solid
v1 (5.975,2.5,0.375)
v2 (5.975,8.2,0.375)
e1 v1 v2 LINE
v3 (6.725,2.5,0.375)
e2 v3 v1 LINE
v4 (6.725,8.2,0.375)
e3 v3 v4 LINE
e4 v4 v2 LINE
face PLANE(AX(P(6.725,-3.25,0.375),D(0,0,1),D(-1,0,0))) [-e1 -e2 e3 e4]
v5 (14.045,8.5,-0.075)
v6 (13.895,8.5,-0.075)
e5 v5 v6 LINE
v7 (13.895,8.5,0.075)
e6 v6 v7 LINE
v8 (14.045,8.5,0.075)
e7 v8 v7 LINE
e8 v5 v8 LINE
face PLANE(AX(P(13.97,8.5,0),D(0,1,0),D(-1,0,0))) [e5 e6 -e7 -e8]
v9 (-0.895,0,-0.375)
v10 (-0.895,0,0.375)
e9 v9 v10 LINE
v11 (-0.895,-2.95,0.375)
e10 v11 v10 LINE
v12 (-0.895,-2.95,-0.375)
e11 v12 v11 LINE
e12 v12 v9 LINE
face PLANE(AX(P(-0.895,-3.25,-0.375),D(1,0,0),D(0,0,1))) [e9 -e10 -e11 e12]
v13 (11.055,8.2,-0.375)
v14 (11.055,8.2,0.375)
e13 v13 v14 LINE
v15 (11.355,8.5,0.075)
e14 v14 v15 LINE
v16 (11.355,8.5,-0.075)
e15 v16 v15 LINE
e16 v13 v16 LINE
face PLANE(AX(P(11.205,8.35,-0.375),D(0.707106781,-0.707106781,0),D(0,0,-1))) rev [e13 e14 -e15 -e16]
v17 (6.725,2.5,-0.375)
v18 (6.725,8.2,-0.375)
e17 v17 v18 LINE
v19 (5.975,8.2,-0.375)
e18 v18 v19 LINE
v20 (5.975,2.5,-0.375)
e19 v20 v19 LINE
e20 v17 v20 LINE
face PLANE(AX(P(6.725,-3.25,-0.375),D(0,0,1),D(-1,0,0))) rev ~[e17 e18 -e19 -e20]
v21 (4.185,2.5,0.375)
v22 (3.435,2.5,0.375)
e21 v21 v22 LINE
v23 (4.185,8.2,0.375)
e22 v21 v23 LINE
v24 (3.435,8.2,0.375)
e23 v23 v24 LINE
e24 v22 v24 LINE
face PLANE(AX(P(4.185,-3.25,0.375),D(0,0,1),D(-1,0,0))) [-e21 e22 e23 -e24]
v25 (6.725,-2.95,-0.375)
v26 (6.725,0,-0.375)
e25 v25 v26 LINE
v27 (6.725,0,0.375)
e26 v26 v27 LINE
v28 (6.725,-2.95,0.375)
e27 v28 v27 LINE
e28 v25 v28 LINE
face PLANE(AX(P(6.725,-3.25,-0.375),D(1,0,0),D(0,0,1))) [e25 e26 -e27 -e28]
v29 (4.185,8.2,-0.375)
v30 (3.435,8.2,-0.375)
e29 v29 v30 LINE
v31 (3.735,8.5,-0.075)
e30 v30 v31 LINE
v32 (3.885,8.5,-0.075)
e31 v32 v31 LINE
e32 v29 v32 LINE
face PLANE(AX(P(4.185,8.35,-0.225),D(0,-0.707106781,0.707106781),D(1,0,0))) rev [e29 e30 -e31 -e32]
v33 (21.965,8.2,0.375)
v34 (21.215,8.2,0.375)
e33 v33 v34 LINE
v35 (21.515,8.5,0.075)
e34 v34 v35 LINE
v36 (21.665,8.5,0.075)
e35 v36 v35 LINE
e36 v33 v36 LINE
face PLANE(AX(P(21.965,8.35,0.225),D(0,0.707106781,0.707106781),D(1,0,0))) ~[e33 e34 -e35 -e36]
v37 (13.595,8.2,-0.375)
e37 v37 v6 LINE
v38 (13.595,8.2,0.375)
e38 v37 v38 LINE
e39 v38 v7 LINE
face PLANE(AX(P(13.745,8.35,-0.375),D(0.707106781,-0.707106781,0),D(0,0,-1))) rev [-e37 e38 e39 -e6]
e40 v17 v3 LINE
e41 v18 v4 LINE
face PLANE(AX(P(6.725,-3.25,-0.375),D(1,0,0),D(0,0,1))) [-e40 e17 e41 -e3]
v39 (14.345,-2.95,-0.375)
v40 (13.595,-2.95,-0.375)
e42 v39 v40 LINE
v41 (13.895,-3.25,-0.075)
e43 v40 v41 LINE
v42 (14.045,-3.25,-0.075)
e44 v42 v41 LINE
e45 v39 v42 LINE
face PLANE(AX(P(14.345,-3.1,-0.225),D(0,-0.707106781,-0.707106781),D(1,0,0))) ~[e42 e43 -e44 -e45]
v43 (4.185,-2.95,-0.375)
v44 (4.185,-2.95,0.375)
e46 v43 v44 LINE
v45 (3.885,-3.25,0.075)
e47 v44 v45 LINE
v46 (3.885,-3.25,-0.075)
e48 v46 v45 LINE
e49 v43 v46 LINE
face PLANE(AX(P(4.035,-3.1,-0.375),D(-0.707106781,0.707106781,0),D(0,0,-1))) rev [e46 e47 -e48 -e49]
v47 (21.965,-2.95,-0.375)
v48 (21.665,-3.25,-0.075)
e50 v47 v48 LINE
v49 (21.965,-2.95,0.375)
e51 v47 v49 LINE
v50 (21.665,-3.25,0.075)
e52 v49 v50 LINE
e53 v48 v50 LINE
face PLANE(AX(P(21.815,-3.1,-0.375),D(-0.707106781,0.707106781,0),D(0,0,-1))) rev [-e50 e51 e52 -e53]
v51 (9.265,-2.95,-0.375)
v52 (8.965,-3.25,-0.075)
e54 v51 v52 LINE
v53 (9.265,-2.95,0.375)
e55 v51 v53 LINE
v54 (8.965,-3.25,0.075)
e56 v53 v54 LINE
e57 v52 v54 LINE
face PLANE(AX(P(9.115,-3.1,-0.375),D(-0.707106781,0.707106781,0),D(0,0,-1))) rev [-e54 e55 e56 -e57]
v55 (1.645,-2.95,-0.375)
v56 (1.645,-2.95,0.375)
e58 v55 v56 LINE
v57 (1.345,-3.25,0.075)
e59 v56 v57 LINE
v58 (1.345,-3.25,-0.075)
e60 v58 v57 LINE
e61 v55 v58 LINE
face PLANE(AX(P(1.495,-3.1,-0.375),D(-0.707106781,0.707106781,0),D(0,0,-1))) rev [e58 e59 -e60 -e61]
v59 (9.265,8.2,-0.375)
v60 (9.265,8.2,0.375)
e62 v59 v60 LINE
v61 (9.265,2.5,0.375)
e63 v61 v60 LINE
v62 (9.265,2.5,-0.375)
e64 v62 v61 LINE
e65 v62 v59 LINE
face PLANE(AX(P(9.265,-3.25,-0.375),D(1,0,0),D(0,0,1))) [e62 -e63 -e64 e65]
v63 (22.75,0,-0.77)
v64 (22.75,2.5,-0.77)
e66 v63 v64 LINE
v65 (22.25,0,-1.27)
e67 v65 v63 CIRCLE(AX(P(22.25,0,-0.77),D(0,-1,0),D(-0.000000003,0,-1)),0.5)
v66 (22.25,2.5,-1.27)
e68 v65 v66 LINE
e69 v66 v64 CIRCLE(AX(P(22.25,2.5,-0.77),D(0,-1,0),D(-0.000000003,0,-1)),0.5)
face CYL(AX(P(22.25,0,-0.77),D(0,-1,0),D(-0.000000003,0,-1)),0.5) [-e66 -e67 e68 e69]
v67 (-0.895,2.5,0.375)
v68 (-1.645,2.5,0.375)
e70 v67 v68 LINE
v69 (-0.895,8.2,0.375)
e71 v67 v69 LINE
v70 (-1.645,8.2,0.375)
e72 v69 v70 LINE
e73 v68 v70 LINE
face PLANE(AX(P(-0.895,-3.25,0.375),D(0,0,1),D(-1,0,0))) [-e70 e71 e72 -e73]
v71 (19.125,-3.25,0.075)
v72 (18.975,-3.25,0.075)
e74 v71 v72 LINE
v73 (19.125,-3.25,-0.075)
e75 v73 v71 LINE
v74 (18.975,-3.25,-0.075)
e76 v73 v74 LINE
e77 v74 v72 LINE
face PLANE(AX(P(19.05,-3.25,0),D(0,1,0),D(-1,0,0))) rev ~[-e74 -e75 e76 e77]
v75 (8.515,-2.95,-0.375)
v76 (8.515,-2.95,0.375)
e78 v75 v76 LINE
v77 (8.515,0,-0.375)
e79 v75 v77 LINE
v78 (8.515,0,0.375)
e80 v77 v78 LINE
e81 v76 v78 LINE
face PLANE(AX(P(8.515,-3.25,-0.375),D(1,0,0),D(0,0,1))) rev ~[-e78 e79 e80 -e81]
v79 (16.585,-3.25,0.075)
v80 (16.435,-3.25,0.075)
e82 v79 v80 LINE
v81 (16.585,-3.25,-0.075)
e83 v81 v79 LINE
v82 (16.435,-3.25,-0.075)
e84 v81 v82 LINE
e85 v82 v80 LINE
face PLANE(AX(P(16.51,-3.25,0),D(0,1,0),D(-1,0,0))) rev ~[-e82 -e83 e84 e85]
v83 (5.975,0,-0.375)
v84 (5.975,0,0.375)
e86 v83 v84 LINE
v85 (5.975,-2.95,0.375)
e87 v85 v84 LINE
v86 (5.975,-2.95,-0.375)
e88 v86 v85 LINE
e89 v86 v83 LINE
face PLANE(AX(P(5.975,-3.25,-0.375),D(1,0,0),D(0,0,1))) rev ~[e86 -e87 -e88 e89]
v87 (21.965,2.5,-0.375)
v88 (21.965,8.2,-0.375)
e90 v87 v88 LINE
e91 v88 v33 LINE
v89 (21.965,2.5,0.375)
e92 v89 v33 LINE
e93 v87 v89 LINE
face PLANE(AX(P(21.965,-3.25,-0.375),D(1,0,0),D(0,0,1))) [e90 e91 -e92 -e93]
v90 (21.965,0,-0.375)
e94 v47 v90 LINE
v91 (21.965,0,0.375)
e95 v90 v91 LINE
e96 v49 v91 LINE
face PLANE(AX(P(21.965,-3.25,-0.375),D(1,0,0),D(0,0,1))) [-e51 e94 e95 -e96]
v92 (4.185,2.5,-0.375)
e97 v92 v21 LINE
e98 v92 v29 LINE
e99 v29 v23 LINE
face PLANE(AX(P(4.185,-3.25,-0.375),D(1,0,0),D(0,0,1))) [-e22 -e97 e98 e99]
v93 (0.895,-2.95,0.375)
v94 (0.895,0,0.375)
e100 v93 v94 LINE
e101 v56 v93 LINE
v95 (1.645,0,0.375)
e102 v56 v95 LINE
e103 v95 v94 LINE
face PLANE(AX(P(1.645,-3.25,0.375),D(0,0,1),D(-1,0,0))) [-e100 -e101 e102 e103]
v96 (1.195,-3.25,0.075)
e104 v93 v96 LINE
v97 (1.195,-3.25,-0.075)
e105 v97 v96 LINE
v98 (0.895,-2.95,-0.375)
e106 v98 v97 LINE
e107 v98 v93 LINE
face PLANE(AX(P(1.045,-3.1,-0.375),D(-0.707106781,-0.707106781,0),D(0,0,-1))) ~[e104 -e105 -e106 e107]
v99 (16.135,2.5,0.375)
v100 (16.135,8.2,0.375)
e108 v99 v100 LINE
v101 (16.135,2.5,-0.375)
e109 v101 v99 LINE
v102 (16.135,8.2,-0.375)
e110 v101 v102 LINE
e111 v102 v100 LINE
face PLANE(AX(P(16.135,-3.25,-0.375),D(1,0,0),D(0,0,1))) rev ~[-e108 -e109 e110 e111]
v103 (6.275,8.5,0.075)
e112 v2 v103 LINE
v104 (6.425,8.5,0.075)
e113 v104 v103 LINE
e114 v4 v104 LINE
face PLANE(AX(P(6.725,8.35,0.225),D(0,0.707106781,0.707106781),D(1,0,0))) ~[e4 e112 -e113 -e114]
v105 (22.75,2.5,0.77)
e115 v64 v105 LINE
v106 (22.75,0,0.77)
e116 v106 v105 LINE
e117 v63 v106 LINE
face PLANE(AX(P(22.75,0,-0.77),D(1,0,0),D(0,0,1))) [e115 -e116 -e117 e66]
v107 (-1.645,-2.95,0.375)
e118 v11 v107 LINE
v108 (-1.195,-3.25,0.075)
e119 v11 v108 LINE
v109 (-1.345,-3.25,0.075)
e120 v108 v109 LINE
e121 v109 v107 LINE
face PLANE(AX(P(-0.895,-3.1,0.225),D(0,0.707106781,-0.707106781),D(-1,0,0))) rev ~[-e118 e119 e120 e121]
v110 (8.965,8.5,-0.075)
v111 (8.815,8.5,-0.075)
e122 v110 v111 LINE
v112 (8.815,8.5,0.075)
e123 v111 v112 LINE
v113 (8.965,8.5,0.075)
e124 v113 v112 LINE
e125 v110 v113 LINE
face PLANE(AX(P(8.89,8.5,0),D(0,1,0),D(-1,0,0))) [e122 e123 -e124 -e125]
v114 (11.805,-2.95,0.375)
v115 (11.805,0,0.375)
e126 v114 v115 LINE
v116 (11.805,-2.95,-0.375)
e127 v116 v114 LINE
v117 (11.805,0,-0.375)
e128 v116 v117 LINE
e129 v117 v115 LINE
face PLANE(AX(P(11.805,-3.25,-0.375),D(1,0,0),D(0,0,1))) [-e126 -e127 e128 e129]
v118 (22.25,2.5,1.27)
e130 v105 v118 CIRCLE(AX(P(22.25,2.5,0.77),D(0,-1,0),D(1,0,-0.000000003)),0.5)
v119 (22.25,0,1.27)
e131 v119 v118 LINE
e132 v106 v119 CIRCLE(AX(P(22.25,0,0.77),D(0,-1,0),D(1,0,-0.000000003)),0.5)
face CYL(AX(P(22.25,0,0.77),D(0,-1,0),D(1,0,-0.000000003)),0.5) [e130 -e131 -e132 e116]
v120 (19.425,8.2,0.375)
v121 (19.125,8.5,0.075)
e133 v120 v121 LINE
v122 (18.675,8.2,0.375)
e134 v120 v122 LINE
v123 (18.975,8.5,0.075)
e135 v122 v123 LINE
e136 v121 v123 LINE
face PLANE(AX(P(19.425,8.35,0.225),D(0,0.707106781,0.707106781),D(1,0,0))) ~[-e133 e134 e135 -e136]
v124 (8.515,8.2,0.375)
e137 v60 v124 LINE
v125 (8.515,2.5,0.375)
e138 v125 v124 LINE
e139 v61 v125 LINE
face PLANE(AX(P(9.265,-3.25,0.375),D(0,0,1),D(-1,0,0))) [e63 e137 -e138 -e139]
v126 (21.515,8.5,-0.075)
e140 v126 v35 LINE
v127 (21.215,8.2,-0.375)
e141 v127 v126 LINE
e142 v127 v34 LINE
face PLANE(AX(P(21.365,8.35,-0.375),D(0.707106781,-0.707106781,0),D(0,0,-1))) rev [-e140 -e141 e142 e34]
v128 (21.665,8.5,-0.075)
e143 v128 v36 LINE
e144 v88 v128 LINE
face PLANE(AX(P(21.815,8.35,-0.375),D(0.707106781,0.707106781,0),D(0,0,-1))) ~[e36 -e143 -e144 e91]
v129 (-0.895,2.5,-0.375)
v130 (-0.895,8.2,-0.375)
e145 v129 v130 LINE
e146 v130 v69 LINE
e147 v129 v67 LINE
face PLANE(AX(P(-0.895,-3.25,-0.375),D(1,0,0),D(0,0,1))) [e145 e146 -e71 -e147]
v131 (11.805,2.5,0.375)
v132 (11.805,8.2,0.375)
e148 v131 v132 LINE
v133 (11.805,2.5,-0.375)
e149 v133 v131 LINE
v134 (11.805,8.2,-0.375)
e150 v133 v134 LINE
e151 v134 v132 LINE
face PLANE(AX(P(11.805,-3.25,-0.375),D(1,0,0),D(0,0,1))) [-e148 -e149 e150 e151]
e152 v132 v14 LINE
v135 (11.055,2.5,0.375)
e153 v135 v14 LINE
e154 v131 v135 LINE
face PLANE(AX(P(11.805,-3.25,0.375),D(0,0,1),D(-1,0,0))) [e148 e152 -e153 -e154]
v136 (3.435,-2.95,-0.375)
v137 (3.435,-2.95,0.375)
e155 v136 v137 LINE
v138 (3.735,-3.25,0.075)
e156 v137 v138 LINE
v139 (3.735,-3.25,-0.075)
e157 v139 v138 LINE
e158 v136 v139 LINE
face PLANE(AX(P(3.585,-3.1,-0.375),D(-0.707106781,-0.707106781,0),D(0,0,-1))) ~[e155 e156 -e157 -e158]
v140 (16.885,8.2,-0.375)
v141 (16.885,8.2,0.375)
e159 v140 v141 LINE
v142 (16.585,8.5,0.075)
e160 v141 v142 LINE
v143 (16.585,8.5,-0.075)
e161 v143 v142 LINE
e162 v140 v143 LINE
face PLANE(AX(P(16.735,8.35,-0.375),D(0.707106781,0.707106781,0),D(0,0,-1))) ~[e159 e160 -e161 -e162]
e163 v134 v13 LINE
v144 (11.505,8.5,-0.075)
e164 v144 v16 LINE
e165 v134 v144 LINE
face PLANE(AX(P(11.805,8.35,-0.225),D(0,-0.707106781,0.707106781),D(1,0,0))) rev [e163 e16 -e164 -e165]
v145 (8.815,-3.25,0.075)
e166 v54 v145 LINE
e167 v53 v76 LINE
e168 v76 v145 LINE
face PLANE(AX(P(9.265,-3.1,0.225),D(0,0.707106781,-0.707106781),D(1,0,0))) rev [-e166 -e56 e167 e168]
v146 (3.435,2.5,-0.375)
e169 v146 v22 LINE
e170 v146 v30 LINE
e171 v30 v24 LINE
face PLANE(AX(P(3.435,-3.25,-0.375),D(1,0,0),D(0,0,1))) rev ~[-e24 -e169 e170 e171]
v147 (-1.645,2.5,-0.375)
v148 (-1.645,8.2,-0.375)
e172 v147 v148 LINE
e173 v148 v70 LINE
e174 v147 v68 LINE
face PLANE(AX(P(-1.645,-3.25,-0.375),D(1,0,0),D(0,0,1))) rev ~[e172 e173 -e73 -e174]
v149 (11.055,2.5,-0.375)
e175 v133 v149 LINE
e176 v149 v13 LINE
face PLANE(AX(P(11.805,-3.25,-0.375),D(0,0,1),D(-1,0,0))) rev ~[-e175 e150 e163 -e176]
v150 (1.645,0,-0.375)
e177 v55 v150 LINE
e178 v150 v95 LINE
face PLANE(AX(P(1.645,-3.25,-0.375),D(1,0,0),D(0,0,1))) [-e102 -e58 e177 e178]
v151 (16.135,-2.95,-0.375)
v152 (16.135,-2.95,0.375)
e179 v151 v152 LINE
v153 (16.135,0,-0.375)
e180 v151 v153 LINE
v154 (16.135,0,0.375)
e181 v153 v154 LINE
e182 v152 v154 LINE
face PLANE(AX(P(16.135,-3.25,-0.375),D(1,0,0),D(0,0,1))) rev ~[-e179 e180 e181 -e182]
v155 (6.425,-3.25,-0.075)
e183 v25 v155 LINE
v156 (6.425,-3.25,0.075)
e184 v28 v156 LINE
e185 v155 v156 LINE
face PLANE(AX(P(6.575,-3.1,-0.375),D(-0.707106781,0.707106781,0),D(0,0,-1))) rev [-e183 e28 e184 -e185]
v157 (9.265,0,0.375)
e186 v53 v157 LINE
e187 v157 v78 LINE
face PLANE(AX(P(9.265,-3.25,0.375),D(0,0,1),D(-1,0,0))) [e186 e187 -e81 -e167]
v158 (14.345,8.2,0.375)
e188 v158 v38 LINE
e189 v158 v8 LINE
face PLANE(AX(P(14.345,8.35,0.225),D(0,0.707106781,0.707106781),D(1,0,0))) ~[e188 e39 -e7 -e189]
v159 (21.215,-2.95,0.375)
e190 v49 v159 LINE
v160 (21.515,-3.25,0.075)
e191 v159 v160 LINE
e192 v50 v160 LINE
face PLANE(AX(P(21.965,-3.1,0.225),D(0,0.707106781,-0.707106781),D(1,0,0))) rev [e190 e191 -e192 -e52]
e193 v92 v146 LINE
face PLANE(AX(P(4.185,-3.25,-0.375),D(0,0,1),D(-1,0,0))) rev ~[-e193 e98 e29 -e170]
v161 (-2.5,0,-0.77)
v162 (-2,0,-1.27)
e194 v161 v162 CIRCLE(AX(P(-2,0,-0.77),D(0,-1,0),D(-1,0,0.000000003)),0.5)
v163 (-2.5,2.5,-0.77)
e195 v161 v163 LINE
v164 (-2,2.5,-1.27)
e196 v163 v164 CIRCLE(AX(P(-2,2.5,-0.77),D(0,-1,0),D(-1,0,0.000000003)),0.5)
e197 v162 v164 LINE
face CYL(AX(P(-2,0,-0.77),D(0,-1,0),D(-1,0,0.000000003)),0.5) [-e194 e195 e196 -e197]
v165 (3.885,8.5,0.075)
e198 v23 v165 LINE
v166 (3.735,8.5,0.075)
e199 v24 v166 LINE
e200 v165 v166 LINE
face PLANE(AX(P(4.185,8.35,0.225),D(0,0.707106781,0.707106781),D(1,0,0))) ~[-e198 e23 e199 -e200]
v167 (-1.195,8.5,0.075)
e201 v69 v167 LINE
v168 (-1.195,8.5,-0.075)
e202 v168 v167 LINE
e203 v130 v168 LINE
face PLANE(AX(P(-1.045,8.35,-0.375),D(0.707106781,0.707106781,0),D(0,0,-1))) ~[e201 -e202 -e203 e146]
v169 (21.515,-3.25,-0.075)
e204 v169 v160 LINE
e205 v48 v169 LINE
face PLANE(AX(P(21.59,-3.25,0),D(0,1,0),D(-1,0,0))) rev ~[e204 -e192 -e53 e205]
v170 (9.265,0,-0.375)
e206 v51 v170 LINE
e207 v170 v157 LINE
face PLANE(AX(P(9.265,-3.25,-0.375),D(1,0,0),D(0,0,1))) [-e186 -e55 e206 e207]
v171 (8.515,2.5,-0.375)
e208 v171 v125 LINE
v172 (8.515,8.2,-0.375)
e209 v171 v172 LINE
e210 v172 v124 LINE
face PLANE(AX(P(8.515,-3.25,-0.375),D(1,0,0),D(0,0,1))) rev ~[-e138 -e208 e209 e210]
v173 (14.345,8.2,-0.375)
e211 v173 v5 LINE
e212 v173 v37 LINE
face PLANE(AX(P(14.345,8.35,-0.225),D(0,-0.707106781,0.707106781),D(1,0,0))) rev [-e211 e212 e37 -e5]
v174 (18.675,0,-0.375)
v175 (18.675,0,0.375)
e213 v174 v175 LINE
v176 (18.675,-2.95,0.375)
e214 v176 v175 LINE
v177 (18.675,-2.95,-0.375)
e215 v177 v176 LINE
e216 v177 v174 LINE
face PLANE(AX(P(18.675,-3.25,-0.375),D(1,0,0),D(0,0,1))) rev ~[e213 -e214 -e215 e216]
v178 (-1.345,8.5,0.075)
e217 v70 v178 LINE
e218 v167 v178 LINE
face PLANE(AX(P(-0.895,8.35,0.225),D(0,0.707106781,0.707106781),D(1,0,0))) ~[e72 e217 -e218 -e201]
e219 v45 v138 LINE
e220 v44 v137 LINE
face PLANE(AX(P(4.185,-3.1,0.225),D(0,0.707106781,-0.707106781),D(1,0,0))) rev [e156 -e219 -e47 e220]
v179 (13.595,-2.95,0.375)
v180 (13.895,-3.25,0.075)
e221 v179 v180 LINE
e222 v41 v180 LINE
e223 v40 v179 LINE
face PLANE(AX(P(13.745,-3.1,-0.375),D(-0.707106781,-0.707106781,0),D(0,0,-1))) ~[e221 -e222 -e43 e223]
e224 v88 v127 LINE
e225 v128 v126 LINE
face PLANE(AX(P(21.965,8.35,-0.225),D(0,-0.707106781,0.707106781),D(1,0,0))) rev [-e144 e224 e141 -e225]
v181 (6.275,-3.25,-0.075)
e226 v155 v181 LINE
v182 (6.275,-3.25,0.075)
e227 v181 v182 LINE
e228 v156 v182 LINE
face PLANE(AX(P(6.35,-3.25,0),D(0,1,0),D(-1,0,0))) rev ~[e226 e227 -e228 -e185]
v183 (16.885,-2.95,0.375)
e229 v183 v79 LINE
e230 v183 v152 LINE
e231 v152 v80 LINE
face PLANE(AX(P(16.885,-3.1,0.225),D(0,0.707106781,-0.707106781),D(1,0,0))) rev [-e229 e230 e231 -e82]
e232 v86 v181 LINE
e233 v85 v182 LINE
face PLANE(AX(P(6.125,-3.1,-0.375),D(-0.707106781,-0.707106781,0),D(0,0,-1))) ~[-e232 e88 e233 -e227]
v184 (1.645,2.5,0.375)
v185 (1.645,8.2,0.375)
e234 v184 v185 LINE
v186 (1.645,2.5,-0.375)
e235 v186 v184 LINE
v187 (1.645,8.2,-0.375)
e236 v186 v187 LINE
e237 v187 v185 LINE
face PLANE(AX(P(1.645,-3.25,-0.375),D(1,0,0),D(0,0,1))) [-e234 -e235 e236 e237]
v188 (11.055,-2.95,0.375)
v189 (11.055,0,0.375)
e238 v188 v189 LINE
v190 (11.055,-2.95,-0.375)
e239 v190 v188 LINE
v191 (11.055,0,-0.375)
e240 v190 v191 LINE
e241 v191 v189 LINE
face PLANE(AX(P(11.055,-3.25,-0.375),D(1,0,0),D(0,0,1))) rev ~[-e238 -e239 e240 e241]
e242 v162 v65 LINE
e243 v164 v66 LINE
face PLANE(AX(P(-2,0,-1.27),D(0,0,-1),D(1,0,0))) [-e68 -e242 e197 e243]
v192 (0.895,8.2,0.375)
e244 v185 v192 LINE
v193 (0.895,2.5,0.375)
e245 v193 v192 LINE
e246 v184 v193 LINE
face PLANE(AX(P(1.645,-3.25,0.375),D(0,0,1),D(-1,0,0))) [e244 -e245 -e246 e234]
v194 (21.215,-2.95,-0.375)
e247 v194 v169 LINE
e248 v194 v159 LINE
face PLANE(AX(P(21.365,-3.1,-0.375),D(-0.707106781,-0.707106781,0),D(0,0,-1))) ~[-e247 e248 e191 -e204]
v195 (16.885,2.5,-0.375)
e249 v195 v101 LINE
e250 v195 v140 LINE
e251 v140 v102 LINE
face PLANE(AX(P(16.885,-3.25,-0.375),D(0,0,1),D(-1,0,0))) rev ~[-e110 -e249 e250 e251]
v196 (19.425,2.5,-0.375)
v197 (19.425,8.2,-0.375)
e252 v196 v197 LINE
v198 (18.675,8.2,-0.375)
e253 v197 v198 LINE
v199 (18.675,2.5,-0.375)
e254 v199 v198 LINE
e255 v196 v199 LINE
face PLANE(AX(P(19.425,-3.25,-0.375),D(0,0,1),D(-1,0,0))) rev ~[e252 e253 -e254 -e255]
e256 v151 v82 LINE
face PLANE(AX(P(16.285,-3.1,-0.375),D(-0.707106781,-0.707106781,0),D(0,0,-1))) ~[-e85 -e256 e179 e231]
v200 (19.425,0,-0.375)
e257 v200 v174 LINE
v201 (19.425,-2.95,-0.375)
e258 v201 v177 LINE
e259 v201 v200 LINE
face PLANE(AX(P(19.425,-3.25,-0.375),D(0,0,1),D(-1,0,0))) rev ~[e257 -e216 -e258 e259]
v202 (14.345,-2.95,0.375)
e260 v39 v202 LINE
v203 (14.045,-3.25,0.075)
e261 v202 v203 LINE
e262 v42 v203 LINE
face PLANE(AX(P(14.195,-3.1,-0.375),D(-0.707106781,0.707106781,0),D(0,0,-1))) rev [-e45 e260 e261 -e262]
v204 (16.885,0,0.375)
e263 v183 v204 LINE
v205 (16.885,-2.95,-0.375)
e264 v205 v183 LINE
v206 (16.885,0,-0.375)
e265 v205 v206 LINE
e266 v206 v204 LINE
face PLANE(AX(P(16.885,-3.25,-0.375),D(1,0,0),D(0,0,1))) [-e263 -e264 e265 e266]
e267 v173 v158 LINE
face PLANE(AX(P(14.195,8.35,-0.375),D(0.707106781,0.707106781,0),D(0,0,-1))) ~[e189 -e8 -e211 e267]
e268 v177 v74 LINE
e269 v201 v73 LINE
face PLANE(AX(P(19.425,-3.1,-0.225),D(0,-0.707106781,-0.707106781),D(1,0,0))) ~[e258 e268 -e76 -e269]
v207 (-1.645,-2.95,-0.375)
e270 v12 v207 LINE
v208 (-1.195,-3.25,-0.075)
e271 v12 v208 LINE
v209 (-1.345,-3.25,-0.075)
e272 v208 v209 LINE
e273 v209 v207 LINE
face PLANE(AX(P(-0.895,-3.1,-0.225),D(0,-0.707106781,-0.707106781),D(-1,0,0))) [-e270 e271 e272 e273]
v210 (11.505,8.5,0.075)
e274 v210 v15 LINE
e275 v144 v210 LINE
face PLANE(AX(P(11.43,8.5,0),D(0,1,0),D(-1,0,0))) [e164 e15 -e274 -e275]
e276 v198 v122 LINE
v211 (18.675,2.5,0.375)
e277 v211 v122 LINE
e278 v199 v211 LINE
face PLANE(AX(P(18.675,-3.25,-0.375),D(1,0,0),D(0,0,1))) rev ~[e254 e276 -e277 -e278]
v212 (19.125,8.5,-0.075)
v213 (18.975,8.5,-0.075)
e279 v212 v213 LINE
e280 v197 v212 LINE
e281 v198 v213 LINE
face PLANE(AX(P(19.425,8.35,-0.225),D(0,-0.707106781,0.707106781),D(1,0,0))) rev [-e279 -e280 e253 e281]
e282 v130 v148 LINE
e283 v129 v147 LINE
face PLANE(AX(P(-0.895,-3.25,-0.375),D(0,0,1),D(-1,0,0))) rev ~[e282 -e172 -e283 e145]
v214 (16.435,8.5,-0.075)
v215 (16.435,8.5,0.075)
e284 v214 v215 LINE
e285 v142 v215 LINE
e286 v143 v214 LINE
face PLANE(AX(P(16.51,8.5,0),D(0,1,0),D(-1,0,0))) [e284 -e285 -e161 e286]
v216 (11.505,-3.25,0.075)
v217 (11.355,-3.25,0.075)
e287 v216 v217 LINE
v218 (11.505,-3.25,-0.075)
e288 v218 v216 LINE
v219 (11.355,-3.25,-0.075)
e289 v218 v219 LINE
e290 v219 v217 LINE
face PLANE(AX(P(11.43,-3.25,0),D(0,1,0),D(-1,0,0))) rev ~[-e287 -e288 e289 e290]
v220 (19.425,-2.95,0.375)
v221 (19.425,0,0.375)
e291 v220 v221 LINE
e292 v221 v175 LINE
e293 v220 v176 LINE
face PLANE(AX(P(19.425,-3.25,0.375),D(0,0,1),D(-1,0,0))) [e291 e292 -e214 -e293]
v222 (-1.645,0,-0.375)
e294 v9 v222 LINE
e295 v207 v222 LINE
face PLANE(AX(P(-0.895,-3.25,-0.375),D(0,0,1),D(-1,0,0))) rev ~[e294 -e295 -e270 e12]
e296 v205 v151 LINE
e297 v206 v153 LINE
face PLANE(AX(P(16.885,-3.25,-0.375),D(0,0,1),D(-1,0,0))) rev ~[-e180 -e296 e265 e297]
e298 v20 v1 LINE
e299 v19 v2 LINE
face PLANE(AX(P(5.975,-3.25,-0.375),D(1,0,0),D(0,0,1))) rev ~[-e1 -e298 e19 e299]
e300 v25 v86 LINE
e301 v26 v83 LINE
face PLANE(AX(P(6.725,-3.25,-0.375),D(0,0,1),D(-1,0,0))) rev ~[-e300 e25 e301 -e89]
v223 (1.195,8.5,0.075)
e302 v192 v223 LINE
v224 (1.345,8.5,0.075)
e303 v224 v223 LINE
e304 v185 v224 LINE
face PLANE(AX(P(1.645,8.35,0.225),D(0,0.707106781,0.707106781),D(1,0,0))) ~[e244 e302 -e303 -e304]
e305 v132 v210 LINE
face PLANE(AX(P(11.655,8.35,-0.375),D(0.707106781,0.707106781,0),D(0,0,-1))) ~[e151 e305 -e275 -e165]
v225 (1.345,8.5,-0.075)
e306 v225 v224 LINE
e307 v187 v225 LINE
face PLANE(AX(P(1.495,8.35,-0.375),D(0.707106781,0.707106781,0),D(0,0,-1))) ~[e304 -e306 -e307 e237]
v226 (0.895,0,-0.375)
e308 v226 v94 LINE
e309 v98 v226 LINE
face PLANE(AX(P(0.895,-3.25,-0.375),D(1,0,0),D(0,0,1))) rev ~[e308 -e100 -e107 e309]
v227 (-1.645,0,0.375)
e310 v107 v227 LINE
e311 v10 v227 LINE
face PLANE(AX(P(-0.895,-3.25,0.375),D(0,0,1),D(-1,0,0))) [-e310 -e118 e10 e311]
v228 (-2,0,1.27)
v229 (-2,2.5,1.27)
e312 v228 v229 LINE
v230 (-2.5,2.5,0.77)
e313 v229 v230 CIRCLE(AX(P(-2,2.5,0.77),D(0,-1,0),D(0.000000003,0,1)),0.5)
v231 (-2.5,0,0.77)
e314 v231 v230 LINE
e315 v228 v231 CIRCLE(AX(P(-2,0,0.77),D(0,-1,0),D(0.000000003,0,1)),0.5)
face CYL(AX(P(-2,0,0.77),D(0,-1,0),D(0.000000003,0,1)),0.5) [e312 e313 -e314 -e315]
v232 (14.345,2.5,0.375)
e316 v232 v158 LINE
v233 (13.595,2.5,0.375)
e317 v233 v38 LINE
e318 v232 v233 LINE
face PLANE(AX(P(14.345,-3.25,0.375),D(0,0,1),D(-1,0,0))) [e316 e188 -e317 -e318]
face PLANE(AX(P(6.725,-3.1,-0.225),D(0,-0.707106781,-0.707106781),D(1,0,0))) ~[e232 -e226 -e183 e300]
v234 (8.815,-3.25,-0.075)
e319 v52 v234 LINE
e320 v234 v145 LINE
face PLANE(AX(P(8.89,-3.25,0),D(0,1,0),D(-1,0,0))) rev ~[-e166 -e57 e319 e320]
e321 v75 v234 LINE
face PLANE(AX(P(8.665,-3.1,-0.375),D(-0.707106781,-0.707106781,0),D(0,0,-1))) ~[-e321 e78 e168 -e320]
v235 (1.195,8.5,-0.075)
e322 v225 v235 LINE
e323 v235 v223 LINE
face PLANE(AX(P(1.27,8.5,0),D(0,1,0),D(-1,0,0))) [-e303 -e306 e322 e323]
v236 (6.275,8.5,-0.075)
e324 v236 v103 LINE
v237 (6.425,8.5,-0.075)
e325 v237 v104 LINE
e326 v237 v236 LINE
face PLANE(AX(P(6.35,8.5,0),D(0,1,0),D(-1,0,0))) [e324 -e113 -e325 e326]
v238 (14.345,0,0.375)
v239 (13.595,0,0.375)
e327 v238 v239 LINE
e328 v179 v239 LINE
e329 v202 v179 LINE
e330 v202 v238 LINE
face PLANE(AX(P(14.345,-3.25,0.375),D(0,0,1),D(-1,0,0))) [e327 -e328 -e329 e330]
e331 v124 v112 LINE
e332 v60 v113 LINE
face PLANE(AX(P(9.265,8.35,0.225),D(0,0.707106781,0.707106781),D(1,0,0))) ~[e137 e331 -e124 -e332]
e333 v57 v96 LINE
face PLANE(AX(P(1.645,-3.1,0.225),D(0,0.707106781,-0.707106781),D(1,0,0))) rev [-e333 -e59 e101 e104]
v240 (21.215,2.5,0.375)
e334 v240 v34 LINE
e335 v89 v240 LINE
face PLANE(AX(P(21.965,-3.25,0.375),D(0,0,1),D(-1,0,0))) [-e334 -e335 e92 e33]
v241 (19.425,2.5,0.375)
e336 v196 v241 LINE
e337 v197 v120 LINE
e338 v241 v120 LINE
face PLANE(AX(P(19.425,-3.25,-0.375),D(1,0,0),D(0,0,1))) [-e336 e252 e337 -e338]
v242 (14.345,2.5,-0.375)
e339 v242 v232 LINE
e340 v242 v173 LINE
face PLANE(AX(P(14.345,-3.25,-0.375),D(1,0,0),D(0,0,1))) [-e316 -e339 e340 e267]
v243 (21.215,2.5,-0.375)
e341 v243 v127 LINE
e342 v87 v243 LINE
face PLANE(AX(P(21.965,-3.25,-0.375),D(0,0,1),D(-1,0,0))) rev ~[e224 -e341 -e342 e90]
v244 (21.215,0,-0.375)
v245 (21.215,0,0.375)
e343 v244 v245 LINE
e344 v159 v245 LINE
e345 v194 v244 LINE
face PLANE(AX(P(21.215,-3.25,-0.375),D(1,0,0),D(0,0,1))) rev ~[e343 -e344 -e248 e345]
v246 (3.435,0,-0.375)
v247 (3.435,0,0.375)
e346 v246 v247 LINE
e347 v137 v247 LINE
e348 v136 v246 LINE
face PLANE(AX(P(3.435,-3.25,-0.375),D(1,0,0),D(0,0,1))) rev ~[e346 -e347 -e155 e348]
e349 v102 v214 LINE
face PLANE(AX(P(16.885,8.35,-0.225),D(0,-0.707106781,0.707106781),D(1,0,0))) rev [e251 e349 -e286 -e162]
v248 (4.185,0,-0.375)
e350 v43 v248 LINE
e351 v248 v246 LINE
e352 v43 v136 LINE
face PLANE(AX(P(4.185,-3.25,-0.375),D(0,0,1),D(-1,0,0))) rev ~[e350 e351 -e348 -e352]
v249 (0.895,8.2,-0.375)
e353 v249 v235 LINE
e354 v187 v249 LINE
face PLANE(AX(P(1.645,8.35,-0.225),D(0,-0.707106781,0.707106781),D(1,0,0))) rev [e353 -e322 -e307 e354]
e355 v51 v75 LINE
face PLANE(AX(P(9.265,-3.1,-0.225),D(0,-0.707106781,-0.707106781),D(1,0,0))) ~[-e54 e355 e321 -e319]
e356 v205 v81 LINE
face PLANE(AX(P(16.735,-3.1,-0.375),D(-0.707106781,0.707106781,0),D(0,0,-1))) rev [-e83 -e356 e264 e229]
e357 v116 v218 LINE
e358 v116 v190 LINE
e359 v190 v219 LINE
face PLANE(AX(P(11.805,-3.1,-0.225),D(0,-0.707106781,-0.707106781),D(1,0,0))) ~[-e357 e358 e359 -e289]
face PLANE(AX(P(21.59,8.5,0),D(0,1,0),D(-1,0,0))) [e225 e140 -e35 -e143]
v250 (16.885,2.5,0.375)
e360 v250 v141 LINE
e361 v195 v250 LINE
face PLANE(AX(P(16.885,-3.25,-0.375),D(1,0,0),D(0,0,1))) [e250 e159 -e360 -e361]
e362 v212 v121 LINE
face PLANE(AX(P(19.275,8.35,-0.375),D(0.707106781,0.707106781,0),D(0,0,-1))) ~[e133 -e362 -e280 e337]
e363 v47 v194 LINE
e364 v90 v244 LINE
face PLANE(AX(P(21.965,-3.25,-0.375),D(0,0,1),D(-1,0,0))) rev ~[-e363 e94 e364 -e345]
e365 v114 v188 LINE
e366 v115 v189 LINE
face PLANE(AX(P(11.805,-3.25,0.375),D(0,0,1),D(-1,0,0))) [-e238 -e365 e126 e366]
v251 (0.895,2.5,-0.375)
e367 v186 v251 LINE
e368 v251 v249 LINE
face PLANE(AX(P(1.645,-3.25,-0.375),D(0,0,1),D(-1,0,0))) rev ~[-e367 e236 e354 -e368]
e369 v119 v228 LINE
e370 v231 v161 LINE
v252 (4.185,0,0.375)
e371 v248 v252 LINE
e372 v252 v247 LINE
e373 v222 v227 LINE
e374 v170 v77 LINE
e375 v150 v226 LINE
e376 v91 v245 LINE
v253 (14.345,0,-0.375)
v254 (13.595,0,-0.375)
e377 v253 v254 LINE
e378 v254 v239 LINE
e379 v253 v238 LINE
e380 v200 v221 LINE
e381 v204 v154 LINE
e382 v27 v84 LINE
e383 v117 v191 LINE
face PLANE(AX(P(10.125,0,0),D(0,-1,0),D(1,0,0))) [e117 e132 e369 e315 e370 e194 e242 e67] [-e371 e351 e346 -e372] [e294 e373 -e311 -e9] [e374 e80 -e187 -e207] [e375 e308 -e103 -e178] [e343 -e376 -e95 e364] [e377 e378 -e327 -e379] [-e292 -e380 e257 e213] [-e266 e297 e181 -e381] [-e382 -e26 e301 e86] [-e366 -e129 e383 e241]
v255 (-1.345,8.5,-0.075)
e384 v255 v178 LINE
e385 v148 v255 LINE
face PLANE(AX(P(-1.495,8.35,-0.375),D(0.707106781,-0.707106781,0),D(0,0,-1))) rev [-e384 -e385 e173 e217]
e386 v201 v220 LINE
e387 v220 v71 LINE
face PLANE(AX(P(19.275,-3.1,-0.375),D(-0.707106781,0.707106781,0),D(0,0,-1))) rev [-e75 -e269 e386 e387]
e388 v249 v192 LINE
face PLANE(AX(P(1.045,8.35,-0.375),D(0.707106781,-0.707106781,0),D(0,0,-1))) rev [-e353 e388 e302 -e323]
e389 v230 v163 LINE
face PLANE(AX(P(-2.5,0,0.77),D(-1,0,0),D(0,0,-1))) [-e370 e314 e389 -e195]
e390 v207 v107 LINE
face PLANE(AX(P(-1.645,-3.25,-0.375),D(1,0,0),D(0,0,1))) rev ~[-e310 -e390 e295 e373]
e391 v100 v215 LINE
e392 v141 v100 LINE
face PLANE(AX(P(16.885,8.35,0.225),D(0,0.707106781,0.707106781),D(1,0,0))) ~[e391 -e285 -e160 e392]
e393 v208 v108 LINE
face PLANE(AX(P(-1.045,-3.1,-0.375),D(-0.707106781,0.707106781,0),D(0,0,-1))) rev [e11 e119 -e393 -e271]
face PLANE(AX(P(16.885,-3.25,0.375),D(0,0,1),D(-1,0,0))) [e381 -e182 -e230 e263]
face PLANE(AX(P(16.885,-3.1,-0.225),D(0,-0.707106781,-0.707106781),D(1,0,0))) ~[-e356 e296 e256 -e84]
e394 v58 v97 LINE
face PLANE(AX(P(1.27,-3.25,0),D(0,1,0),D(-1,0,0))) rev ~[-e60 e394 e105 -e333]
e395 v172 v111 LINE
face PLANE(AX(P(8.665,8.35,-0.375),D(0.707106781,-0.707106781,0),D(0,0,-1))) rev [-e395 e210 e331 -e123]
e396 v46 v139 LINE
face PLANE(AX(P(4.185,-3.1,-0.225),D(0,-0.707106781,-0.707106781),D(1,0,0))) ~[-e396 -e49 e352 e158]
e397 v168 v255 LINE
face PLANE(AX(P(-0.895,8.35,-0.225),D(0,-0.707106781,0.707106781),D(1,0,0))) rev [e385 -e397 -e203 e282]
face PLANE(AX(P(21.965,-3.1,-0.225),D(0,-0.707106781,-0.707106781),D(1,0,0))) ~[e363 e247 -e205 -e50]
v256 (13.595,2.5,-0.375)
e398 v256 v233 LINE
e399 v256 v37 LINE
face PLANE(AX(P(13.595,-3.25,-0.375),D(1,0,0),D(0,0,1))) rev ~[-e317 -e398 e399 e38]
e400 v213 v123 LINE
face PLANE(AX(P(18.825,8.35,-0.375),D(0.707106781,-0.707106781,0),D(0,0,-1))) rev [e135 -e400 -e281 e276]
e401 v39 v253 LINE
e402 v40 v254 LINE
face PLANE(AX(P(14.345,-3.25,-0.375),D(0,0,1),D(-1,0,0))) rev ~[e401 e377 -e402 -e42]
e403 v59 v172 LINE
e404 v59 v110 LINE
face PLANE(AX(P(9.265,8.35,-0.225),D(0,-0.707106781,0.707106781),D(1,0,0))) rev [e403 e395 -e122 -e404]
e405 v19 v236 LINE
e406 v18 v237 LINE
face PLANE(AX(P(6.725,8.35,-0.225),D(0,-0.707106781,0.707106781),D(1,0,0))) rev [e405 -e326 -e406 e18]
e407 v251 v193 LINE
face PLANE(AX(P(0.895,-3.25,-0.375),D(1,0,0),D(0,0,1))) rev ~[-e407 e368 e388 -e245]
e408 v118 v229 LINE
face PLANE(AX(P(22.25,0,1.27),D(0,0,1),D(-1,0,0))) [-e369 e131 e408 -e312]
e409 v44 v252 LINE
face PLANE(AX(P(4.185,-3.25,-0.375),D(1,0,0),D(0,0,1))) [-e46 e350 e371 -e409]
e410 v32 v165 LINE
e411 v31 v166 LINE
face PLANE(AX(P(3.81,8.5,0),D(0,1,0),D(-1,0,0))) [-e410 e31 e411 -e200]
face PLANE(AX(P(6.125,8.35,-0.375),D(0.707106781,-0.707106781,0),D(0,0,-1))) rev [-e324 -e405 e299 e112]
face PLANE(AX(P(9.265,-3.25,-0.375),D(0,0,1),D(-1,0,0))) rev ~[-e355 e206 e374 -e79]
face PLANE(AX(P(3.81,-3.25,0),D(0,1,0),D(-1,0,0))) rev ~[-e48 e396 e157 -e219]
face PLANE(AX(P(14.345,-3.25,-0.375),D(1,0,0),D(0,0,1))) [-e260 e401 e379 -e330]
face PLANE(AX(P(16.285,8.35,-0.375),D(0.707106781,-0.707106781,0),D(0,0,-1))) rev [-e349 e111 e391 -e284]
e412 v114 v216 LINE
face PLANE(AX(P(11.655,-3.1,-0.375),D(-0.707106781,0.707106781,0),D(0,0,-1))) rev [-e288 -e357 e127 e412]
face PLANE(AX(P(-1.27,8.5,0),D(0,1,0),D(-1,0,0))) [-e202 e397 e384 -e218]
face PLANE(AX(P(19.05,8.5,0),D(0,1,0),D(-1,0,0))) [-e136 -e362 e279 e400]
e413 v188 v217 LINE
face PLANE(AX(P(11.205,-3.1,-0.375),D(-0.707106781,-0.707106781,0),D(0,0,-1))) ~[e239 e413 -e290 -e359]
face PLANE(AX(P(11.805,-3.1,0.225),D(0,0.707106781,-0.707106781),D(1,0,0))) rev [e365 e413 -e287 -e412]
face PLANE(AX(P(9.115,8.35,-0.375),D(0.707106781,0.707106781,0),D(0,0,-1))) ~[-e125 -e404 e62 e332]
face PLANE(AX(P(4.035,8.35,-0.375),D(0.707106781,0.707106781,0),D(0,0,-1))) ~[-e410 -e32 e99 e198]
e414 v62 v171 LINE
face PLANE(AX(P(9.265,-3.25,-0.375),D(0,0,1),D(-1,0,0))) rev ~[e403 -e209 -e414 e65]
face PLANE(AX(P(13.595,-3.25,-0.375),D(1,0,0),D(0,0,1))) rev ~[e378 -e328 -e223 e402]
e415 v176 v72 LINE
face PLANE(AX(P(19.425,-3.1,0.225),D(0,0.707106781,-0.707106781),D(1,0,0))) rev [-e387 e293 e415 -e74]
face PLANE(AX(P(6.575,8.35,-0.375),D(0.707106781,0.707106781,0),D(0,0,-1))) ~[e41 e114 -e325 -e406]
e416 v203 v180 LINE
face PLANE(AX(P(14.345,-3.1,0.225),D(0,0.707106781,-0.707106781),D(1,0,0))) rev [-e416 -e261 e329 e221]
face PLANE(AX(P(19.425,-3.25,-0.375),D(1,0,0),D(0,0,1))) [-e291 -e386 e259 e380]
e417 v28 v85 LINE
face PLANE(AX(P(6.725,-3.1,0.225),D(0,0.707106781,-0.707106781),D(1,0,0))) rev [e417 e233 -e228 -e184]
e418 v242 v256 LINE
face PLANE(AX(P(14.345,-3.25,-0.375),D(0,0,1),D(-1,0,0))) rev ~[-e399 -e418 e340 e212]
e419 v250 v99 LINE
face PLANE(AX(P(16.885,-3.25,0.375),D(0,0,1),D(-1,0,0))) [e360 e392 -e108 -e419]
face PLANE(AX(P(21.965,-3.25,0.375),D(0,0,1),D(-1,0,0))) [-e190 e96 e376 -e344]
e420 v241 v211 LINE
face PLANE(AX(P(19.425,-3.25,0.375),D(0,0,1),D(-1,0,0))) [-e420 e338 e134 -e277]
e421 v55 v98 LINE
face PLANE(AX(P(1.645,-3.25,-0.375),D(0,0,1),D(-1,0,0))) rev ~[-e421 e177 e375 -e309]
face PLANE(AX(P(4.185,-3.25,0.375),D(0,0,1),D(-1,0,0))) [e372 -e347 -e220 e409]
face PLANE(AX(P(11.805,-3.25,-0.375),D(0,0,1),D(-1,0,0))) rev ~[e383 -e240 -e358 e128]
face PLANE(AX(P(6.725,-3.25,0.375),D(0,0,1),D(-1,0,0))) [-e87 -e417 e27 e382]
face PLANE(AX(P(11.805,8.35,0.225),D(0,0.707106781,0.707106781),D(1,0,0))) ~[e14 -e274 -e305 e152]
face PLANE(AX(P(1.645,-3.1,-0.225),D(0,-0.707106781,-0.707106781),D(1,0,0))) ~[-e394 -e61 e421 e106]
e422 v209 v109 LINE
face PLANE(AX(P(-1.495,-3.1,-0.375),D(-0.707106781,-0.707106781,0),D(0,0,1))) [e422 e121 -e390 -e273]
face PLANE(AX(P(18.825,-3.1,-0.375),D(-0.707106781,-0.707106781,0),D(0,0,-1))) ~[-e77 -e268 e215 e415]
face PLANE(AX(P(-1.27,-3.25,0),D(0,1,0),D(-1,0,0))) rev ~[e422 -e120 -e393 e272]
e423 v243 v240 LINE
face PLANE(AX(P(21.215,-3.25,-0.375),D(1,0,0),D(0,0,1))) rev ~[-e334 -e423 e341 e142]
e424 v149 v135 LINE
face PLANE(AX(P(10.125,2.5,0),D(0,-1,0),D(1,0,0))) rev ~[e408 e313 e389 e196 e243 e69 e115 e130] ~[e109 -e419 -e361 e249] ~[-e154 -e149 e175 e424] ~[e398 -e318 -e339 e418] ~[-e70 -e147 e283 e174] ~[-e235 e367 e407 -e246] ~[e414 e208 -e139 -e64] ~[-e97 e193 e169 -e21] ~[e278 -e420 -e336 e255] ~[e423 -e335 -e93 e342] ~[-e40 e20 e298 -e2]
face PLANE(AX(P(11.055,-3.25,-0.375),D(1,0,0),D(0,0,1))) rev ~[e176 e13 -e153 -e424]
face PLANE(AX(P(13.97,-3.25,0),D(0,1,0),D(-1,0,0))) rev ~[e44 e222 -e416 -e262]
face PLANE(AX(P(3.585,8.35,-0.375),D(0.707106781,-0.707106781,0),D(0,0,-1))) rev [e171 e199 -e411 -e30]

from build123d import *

# Parameters (mm, degrees)
BOSS_EXTRUDE1_DEPTH      = 2.5
BOSS_EXTRUDE2_DEPTH      = 8.5
BOSS_EXTRUDE2_DEPTH_BACK = 3.25
SKETCH2_W                = 0.75
SKETCH2_H                = 0.75
CHAMFER1_SIZE            = 0.3


with BuildPart() as part:
    # Sketch1 → Boss-Extrude1 (new body)
    with BuildSketch(Plane(origin=(0, 0, 0), x_dir=(-1, 0, 0), z_dir=(0, 1, 0))):
        with BuildLine():
            Line((-22.25, 1.27), (2, 1.27))
            ThreePointArc((2, 1.27), (2.353553391, 1.123553391), (2.5, 0.77))
            Line((2.5, 0.77), (2.5, -0.77))
            ThreePointArc((2.5, -0.77), (2.353553391, -1.123553391), (2, -1.27))
            Line((2, -1.27), (-22.25, -1.27))
            ThreePointArc((-22.25, -1.27), (-22.603553391, -1.123553391), (-22.75, -0.77))
            Line((-22.75, -0.77), (-22.75, 0.77))
            ThreePointArc((-22.75, 0.77), (-22.603553391, 1.123553391), (-22.25, 1.27))
        make_face()
    extrude(amount=BOSS_EXTRUDE1_DEPTH)

    # Sketch2 → Boss-Extrude2 (add, two sides: drawn at the far end of the back side and taken through both)
    with BuildSketch(Plane(origin=(0, 0, 0), x_dir=(-1, 0, 0), z_dir=(0, 1, 0)).offset(-BOSS_EXTRUDE2_DEPTH_BACK)):
        with Locations((1.27, 0)):
            Rectangle(SKETCH2_W, SKETCH2_H)
        with Locations((-1.27, 0)):
            Rectangle(SKETCH2_W, SKETCH2_H)
        with Locations((-3.81, 0)):
            Rectangle(SKETCH2_W, SKETCH2_H)
        with Locations((-6.35, 0)):
            Rectangle(SKETCH2_W, SKETCH2_H)
        with Locations((-8.89, 0)):
            Rectangle(SKETCH2_W, SKETCH2_H)
        with Locations((-11.43, 0)):
            Rectangle(SKETCH2_W, SKETCH2_H)
        with Locations((-13.97, 0)):
            Rectangle(SKETCH2_W, SKETCH2_H)
        with Locations((-16.51, 0)):
            Rectangle(SKETCH2_W, SKETCH2_H)
        with Locations((-19.05, 0)):
            Rectangle(SKETCH2_W, SKETCH2_H)
        with Locations((-21.59, 0)):
            Rectangle(SKETCH2_W, SKETCH2_H)
    extrude(amount=BOSS_EXTRUDE2_DEPTH + BOSS_EXTRUDE2_DEPTH_BACK)

    # Chamfer1
    chamfer1_edges = [part.edges().sort_by_distance(p)[0] for p in [
        (9.265, -3.25, 0),
        (8.89, -3.25, 0.375),
        (8.515, -3.25, 0),
        (8.89, -3.25, -0.375),
        (9.265, 8.5, 0),
        (8.89, 8.5, -0.375),
        (8.515, 8.5, 0),
        (8.89, 8.5, 0.375),
        (11.055, -3.25, 0),
        (11.43, -3.25, -0.375),
        (11.805, -3.25, 0),
        (11.43, -3.25, 0.375),
        (11.055, 8.5, 0),
        (11.43, 8.5, 0.375),
        (11.805, 8.5, 0),
        (11.43, 8.5, -0.375),
        (14.345, -3.25, 0),
        (13.97, -3.25, 0.375),
        (13.595, -3.25, 0),
        (13.97, -3.25, -0.375),
        (14.345, 8.5, 0),
        (13.97, 8.5, -0.375),
        (13.595, 8.5, 0),
        (13.97, 8.5, 0.375),
        (16.135, -3.25, 0),
        (16.51, -3.25, -0.375),
        (16.885, -3.25, 0),
        (16.51, -3.25, 0.375),
        (16.135, 8.5, 0),
        (16.51, 8.5, 0.375),
        (16.885, 8.5, 0),
        (16.51, 8.5, -0.375),
        (19.425, -3.25, 0),
        (19.05, -3.25, 0.375),
        (18.675, -3.25, 0),
        (19.05, -3.25, -0.375),
        (19.425, 8.5, 0),
        (19.05, 8.5, -0.375),
        (18.675, 8.5, 0),
        (19.05, 8.5, 0.375),
        (21.215, -3.25, 0),
        (21.59, -3.25, -0.375),
        (21.965, -3.25, 0),
        (21.59, -3.25, 0.375),
        (21.215, 8.5, 0),
        (21.59, 8.5, 0.375),
        (21.965, 8.5, 0),
        (21.59, 8.5, -0.375),
        (-0.895, -3.25, 0),
        (-1.27, -3.25, 0.375),
        (-1.645, -3.25, 0),
        (-1.27, -3.25, -0.375),
        (-0.895, 8.5, 0),
        (-1.27, 8.5, -0.375),
        (-1.645, 8.5, 0),
        (-1.27, 8.5, 0.375),
        (0.895, -3.25, 0),
        (1.27, -3.25, -0.375),
        (1.645, -3.25, 0),
        (1.27, -3.25, 0.375),
        (0.895, 8.5, 0),
        (1.27, 8.5, 0.375),
        (1.645, 8.5, 0),
        (1.27, 8.5, -0.375),
        (4.185, -3.25, 0),
        (3.81, -3.25, 0.375),
        (3.435, -3.25, 0),
        (3.81, -3.25, -0.375),
        (4.185, 8.5, 0),
        (3.81, 8.5, -0.375),
        (3.435, 8.5, 0),
        (3.81, 8.5, 0.375),
        (5.975, -3.25, 0),
        (6.35, -3.25, -0.375),
        (6.725, -3.25, 0),
        (6.35, -3.25, 0.375),
        (5.975, 8.5, 0),
        (6.35, 8.5, 0.375),
        (6.725, 8.5, 0),
        (6.35, 8.5, -0.375),
    ]]
    chamfer(chamfer1_edges, length=CHAMFER1_SIZE)


solid = part.part
